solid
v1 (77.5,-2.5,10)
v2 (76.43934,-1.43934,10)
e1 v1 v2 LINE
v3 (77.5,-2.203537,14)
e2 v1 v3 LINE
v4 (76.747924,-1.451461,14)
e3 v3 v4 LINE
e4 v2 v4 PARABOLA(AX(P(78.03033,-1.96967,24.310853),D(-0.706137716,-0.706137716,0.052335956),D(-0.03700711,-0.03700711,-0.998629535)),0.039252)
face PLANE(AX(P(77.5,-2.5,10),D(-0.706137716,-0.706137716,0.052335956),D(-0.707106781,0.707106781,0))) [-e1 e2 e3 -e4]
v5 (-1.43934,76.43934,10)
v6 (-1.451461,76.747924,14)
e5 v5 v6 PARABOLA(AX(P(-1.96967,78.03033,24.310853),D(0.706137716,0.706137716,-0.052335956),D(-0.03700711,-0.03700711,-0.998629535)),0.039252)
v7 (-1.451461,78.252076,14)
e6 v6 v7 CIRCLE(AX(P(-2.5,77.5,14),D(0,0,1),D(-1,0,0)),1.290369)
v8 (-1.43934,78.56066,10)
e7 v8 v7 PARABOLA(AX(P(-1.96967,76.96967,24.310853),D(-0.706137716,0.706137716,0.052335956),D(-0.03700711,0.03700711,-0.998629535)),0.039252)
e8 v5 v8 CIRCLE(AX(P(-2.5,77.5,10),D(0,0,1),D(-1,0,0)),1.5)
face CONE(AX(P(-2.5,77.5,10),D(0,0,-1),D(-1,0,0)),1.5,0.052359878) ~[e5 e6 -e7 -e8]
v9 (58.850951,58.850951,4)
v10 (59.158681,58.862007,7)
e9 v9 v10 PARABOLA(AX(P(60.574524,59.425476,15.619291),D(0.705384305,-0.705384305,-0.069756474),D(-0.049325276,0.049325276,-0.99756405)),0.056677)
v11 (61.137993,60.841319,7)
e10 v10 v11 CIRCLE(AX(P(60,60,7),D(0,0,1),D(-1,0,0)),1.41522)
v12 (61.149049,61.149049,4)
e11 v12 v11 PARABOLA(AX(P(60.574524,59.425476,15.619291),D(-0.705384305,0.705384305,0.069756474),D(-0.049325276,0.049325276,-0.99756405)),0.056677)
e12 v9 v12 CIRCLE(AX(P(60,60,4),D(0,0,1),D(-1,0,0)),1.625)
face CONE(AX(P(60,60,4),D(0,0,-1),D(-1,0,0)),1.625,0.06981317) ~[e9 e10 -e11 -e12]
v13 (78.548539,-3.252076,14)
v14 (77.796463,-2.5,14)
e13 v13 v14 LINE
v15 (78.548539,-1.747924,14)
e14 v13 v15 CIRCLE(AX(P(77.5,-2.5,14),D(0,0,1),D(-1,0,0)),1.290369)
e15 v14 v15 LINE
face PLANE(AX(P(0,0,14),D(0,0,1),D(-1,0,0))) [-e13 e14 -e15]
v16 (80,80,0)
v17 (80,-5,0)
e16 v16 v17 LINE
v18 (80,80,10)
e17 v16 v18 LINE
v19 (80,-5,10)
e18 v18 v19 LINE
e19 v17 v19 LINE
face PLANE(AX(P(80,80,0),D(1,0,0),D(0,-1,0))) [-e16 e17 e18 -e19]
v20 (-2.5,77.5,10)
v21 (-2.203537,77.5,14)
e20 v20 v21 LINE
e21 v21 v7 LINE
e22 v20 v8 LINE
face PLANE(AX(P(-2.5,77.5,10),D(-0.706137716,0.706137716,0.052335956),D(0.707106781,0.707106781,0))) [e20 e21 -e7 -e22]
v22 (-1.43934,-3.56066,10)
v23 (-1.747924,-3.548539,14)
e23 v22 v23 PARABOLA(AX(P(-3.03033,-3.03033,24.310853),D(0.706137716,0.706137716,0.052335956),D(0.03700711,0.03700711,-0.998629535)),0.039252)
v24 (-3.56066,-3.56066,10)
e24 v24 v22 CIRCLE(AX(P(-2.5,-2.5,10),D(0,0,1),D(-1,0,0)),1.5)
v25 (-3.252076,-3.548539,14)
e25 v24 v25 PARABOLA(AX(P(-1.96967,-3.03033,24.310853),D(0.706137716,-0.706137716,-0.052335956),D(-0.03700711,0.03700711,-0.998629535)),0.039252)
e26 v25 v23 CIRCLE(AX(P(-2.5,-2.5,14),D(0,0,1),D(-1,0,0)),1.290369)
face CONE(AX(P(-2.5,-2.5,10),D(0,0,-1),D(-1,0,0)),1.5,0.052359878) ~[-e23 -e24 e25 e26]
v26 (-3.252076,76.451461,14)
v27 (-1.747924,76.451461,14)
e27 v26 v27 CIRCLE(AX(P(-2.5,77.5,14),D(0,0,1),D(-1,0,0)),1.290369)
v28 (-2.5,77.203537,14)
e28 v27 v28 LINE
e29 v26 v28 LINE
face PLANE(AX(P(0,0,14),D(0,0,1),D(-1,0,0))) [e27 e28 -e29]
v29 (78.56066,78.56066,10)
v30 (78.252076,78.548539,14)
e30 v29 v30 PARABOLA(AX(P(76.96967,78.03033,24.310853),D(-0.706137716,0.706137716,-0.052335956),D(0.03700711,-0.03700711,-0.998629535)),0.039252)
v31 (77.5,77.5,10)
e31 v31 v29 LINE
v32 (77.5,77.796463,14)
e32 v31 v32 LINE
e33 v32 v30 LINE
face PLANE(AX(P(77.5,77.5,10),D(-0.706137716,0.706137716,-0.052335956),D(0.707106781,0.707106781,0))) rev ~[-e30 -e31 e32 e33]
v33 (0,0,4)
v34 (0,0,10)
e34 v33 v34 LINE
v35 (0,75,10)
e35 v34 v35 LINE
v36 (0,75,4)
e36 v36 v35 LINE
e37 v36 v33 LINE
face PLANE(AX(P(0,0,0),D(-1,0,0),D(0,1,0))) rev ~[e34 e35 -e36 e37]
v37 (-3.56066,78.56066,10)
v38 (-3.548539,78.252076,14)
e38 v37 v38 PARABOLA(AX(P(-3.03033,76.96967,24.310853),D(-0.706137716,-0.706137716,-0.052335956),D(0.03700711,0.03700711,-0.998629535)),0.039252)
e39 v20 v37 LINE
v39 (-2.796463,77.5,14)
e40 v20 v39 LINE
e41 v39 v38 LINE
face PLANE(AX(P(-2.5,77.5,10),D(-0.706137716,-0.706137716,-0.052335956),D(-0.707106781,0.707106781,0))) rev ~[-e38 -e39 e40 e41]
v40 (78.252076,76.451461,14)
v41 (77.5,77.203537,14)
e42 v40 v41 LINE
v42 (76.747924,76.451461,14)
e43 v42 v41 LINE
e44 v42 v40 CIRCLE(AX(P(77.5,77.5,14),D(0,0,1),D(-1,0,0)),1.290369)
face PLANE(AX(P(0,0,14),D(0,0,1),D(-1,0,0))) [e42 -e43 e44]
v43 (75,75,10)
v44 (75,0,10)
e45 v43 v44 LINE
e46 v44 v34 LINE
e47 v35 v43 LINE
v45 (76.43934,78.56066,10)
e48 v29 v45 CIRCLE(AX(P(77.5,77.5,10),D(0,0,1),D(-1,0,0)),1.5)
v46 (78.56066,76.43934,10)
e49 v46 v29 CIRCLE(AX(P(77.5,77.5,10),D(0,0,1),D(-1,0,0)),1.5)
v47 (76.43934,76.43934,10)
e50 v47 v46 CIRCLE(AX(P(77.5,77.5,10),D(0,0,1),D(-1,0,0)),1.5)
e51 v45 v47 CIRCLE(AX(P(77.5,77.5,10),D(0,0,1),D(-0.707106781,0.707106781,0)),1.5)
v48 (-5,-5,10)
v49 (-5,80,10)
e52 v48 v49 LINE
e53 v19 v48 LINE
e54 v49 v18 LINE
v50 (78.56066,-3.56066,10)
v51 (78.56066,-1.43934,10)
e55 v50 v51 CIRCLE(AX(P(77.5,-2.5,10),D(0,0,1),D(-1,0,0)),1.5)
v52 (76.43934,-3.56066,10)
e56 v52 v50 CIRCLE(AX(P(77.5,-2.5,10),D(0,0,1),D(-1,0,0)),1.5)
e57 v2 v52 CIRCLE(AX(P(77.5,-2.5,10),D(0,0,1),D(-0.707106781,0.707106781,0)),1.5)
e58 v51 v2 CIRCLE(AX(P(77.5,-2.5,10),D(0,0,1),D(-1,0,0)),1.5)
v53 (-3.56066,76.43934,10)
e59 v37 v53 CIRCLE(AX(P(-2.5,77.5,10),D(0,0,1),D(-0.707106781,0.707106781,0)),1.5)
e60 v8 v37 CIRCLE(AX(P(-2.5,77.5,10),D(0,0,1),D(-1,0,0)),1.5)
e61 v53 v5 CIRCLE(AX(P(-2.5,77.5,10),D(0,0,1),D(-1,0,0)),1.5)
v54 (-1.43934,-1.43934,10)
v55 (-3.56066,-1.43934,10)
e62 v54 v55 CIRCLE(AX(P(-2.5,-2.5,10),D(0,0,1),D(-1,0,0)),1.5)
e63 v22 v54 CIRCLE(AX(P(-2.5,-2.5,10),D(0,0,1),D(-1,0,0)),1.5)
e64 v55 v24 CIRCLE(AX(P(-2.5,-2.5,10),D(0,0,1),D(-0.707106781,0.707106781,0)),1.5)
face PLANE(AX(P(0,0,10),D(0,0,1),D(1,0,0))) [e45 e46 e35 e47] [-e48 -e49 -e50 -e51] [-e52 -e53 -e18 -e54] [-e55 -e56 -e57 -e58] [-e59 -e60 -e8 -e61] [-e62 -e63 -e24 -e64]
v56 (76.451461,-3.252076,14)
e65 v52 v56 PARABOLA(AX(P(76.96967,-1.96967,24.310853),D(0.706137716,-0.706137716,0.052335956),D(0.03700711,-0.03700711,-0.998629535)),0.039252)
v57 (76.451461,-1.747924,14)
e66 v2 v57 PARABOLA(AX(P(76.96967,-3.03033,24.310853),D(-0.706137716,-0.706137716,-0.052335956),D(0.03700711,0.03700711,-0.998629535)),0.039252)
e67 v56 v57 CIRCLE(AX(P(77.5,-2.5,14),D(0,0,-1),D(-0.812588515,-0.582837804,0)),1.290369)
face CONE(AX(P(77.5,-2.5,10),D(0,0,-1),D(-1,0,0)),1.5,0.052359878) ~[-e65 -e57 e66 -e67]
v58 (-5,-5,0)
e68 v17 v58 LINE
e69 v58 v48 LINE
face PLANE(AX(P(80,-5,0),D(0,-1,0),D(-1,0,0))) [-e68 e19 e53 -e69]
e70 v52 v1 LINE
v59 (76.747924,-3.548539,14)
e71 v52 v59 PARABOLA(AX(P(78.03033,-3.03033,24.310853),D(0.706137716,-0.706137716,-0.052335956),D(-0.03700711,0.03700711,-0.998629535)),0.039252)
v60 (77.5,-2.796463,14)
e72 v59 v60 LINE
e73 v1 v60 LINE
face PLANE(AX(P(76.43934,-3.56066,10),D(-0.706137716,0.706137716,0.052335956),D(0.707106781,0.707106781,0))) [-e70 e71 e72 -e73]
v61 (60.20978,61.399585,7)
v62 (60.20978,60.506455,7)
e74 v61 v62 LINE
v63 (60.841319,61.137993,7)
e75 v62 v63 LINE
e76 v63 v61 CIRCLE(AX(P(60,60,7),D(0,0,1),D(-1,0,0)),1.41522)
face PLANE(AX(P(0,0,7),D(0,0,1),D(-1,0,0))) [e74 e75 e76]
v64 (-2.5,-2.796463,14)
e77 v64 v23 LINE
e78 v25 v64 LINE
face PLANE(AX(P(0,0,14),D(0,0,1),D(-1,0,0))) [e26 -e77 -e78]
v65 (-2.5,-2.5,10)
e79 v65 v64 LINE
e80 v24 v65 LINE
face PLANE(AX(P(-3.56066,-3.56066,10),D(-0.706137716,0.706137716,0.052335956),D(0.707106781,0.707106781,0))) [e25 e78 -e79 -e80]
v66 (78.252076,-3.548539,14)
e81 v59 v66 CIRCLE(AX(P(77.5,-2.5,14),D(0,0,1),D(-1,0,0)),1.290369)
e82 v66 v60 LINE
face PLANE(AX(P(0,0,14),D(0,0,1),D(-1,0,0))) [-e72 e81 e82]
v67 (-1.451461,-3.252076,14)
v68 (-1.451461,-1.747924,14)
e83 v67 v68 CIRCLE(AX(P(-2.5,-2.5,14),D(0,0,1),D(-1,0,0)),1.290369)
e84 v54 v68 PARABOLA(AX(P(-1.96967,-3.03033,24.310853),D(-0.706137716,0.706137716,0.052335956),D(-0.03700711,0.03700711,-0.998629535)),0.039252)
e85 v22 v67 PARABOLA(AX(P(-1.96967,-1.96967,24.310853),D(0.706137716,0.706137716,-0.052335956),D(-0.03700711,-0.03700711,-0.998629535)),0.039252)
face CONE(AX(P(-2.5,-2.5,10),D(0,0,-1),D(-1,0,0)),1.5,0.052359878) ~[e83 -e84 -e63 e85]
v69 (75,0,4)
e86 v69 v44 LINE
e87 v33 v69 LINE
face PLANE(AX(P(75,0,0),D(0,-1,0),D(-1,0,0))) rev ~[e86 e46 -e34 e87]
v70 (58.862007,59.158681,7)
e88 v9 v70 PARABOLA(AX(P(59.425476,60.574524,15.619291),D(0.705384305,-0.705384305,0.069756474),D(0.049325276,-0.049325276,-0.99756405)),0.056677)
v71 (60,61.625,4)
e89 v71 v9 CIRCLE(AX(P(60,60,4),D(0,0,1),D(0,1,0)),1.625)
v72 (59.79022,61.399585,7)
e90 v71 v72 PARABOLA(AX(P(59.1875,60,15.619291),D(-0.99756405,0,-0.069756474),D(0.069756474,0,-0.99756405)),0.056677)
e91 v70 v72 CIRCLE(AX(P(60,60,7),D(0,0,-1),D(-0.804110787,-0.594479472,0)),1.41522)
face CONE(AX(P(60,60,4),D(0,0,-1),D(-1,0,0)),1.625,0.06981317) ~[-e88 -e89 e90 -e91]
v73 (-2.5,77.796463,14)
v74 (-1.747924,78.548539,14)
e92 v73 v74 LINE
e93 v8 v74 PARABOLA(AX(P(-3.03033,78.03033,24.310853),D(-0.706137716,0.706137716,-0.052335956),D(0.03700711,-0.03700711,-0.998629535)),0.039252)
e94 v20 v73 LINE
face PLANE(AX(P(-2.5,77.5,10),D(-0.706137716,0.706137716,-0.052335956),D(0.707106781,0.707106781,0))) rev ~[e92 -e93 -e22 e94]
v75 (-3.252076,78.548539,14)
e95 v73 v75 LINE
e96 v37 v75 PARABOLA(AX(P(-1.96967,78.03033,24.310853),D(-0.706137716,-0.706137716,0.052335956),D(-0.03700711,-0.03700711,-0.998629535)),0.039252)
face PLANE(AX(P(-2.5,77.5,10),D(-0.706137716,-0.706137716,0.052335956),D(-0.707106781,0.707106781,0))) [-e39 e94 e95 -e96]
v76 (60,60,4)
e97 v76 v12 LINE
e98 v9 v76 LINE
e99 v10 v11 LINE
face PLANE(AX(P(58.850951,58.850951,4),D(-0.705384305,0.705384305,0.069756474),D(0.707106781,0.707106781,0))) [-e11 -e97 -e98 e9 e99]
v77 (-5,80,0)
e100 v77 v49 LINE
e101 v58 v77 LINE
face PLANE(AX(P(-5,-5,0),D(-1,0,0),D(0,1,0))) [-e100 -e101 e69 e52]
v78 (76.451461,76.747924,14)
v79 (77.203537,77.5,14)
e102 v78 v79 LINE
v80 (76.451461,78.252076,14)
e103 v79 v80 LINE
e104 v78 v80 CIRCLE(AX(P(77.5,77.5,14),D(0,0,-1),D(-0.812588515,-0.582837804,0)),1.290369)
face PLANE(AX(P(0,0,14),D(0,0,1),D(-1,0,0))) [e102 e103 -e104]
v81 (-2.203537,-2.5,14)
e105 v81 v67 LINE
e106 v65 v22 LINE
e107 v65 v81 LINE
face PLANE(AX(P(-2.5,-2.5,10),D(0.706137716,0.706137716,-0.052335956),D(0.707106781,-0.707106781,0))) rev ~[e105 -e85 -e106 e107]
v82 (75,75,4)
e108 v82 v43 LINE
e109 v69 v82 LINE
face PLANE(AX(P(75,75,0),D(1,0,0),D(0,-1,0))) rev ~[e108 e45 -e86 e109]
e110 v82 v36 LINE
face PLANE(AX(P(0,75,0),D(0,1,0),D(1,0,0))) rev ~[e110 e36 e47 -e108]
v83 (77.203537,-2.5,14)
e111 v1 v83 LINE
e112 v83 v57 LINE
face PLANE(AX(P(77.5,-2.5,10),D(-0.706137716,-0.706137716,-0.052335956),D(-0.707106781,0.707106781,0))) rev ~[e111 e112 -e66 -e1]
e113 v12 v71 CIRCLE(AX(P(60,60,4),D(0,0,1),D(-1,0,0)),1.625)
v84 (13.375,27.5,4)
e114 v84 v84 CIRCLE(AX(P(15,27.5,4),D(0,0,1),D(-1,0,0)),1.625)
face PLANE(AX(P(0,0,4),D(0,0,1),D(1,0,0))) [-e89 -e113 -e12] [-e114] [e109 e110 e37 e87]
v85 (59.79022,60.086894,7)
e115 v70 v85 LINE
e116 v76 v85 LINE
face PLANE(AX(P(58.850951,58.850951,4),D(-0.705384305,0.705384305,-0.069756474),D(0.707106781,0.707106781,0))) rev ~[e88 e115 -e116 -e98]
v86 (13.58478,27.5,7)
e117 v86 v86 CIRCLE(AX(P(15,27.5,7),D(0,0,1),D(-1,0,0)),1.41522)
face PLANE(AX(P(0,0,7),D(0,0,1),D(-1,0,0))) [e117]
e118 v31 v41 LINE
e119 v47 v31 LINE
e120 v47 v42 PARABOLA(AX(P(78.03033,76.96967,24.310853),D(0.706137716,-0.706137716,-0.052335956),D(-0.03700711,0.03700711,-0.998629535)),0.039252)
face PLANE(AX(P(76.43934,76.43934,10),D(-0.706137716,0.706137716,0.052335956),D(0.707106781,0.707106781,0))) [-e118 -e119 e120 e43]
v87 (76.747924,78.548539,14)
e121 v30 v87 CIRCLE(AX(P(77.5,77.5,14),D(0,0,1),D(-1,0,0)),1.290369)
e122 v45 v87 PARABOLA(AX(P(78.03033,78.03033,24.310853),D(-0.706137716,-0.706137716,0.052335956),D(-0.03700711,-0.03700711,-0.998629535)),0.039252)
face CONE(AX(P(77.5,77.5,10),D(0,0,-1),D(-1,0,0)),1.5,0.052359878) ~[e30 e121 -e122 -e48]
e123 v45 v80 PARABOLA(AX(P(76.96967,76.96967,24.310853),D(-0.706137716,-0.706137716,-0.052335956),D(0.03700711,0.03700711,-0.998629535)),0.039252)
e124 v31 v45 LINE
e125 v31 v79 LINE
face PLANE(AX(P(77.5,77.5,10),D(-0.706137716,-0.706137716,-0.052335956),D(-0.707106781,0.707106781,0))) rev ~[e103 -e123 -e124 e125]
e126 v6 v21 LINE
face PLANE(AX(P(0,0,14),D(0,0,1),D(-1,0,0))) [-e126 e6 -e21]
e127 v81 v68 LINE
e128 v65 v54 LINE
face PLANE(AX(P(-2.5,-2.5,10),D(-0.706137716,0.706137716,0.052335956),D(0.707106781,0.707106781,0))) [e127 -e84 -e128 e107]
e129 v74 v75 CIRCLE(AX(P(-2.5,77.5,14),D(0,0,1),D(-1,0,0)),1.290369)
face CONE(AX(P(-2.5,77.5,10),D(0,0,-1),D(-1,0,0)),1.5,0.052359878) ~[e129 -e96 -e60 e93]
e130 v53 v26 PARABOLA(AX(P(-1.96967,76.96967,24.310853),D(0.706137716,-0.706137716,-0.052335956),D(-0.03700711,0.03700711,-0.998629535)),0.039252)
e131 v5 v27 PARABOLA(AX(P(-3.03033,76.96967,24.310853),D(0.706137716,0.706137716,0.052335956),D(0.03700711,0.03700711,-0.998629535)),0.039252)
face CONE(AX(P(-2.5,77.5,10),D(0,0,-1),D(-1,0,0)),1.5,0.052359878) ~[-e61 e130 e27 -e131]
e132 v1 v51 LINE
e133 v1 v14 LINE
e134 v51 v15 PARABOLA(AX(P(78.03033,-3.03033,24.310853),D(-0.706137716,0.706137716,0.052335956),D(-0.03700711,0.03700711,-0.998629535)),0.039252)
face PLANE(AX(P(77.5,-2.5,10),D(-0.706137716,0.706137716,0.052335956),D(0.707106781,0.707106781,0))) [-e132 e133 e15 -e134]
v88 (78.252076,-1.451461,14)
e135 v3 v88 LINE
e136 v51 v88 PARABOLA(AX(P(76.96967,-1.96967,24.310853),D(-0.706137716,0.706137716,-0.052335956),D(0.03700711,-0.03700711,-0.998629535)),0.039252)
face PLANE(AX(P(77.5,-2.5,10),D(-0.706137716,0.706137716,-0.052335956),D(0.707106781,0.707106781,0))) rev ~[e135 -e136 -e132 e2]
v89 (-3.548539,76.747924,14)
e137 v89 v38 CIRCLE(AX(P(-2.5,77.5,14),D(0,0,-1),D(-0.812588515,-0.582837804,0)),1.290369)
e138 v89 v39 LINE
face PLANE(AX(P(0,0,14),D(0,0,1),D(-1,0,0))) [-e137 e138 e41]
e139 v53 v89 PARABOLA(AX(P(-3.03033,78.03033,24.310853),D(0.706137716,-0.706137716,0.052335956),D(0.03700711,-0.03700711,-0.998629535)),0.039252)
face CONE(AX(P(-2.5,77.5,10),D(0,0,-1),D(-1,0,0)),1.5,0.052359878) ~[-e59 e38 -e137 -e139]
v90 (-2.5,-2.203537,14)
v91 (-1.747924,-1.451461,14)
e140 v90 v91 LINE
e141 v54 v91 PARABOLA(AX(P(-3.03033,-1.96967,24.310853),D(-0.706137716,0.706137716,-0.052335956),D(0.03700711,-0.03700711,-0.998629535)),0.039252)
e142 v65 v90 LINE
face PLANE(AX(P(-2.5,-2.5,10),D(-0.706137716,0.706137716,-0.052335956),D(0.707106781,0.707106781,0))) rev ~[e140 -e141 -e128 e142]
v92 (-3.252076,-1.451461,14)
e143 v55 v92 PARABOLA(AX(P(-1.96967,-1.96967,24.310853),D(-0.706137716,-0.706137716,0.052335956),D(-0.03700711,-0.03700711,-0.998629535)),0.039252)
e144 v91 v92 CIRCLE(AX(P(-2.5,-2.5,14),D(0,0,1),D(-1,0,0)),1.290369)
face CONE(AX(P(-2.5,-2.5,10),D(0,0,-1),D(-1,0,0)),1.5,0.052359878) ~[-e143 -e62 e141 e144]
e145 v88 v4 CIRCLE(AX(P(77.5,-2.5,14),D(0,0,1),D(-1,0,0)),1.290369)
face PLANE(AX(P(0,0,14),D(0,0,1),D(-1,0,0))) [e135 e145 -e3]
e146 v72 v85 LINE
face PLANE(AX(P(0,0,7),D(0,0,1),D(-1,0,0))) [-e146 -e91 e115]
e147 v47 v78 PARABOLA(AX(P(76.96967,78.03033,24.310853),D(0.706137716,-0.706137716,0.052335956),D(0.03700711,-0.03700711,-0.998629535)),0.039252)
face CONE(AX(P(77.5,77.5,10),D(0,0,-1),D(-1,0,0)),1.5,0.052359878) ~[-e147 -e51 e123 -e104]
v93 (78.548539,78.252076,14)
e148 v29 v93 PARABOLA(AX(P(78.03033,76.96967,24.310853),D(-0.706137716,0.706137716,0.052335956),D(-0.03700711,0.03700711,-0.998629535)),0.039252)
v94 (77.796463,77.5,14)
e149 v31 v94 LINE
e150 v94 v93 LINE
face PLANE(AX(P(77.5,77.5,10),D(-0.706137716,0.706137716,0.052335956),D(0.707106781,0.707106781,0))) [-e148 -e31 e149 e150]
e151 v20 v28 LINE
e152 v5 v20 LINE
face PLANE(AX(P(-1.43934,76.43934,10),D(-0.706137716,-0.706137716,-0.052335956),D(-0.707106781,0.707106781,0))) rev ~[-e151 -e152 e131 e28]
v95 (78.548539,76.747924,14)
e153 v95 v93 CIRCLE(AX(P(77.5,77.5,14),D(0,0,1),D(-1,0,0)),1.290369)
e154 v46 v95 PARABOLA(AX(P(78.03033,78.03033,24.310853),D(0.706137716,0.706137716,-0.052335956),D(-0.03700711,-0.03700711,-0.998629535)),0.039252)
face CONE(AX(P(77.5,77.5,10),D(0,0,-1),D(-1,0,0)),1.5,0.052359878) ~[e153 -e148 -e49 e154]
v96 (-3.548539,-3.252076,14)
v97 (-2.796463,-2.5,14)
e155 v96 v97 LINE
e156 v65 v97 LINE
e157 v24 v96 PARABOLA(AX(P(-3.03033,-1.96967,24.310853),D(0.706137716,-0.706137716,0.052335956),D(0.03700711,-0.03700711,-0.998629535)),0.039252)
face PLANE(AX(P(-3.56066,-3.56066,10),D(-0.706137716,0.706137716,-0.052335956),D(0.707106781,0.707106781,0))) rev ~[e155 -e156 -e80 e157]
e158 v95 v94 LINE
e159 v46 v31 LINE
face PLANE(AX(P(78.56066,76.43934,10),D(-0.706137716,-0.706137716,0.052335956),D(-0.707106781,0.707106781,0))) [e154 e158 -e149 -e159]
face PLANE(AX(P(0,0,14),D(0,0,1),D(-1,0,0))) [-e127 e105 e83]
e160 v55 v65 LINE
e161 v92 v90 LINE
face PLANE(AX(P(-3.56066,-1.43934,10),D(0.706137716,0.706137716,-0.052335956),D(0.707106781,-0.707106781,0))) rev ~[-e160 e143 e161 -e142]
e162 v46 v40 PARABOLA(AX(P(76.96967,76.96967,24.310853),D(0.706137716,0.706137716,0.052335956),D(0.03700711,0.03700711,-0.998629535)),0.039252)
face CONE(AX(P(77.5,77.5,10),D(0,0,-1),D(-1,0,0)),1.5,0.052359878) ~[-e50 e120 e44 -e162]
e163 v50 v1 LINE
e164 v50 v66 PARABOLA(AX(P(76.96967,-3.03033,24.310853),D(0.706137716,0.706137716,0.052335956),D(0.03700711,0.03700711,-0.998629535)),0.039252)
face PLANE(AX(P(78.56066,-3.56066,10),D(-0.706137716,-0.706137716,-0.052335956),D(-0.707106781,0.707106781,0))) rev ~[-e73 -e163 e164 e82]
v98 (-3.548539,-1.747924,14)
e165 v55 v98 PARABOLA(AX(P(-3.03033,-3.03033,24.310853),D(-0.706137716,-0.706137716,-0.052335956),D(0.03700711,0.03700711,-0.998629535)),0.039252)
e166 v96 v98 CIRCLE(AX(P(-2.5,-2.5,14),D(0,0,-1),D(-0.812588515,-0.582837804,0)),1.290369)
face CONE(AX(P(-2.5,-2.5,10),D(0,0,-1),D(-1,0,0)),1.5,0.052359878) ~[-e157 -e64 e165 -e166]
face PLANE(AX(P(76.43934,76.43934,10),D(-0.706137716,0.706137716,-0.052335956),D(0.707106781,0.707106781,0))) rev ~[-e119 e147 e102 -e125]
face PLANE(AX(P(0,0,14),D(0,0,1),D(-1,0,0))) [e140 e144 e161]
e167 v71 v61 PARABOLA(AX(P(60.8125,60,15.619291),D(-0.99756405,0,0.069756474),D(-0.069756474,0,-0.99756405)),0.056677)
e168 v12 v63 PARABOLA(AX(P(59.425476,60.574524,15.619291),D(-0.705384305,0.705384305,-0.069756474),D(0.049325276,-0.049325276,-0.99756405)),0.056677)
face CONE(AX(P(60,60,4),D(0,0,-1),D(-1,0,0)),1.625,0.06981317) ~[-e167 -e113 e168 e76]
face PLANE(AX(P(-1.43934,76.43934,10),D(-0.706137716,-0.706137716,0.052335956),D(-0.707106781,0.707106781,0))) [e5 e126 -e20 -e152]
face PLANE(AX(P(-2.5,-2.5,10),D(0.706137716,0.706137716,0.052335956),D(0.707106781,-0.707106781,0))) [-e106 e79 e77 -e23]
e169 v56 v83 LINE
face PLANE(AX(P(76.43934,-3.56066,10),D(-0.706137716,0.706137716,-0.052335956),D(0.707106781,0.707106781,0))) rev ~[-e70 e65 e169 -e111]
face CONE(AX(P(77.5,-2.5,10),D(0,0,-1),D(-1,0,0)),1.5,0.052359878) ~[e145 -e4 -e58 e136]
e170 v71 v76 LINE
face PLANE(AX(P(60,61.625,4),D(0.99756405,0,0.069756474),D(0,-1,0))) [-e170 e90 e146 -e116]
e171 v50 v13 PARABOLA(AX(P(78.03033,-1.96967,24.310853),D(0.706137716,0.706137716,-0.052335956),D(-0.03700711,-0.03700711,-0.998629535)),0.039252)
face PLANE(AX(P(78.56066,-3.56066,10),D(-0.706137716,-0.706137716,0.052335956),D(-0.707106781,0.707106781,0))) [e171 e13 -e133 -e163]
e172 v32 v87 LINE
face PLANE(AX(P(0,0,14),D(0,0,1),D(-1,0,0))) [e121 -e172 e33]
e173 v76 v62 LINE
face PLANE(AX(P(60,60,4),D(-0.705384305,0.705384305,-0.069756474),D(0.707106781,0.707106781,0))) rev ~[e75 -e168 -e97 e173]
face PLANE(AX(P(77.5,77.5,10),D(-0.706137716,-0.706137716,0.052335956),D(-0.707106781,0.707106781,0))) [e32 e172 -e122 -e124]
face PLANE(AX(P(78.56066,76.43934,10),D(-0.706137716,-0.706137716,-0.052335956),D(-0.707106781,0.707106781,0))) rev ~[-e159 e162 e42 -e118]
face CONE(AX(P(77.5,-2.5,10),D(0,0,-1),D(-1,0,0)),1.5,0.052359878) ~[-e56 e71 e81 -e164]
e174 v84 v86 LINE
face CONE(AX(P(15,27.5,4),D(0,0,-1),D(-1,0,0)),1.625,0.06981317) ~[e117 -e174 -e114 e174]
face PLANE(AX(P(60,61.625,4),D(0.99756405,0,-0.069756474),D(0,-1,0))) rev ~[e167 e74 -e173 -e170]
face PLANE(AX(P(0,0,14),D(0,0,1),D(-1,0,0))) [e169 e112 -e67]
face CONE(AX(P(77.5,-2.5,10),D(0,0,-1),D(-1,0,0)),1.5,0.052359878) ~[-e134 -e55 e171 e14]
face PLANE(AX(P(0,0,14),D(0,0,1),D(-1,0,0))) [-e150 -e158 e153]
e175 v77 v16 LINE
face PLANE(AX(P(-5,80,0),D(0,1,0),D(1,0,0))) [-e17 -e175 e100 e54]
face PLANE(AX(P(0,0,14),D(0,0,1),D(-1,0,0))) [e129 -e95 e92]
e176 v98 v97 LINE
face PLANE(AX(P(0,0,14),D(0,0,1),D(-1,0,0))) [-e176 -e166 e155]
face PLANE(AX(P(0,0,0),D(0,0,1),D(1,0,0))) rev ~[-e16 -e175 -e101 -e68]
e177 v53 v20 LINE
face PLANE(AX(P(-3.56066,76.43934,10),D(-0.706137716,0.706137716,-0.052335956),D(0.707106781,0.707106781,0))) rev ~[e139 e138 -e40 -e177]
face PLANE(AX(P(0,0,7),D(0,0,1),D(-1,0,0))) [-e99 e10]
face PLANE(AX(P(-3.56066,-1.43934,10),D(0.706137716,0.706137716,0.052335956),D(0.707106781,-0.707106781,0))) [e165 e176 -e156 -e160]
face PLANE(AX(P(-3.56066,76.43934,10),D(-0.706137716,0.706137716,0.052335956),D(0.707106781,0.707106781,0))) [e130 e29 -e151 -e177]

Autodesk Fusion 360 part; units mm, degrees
sketch "Sketch1" plane through (0, 0, 0) normal (0, 0, 1) x (1, 0, 0)
  line L0 (0, 0) -> (0, 75)
  line L1 (0, 75) -> (75, 75)
  line L2 (75, 75) -> (75, 0)
  line L3 (75, 0) -> (0, 0)
  line L4 (-5, -5) -> (-5, 80)
  line L5 (-5, 80) -> (80, 80)
  line L6 (80, 80) -> (80, -5)
  line L7 (80, -5) -> (-5, -5)
  dimension "d1" = 75
  dimension "d2" = 75
  dimension "d3" = 75
  dimension "d4" = 75
  dimension "d5" = 85
  dimension "d6" = 85
  dimension "d7" = 85
  dimension "d8" = 85
extrude "Extrude1" add sketch "Sketch1" along normal blind 10
sketch "Sketch2" plane through (0, 0, 0) normal (0, 1, 0) x (1, 0, 0)
sketch "Sketch3" plane through (0, 0, 0) normal (0, 0, 1) x (1, 0, 0)
  line L0 (0, 0) -> (75, 0)
  line L1 (75, 0) -> (75, 75)
  line L2 (75, 75) -> (0, 75)
  line L3 (0, 75) -> (0, 0)
extrude "Extrude2" add sketch "Sketch3" along normal blind 4
sketch "Sketch4" plane through (0, 0, 4) normal (0, 0, 1) x (-1, 0, 0)
  line L0 (0, -75) -> (0, 0)
  line L1 (0, 0) -> (-75, 0)
  line L2 (-75, 0) -> (-75, -75)
  line L3 (-75, -75) -> (0, -75)
  line L4 (0, 0) -> (-75, -75)
  line L5 (-75, 0) -> (0, -75)
  line L6 (-37.5, -37.5) -> (-37.5, -65)
  line L7 (-37.5, -37.5) -> (-65, -37.5)
  line L8 (-65, -37.5) -> (-65, -10)
  line L9 (-37.5, -65) -> (-10, -65)
  line L10 (-10, -65) -> (-65, -65)
  line L11 (-65, -65) -> (-65, -10)
  line L12 (-65, -10) -> (-10, -10)
  line L13 (-10, -10) -> (-10, -65)
  line L14 (-65, -65) -> (-60, -65)
  line L15 (-60, -65) -> (-60, -60)
  circle A0 centre (-60, -60) radius 1.625
  line L16 (-10, -10) -> (-10, -27.5)
  line L17 (-10, -27.5) -> (-15, -27.5)
  circle A1 centre (-15, -27.5) radius 1.625
  dimension "d13" = 27.5
  dimension "d14" = 27.5
  dimension "d15" = 27.5
  dimension "d16" = 27.5
  dimension "d17" = 5
  dimension "d18" = 5
  dimension "d19" = 3.25
  dimension "d20" = 17.5
  dimension "d21" = 5
  dimension "d22" = 3.25
extrude "Extrude3" add sketch "Sketch4" along normal blind 3 draft -4 contours A1 | L4 A0 | L4 L15 A0 | L4 L15 A0
sketch "Sketch5" plane through (0, 0, 10) normal (0, 0, 1) x (-1, 0, 0)
  line L0 (-75, -75) -> (-75, 0)
  line L1 (-75, 0) -> (0, 0)
  line L2 (0, 0) -> (0, -75)
  line L3 (0, -75) -> (-75, -75)
  line L4 (-80, 5) -> (-80, -80)
  line L5 (-80, -80) -> (5, -80)
  line L6 (5, -80) -> (5, 5)
  line L7 (5, 5) -> (-80, 5)
  line L8 (5, 5) -> (0, 0)
  line L9 (5, 0) -> (0, 5)
  circle A0 centre (2.5, 2.5) radius 1.5
  line L10 (-75, -75) -> (-80, -80)
  line L11 (-80, -75) -> (-75, -80)
  circle A1 centre (-77.5, -77.5) radius 1.5
  line L12 (0, -75) -> (5, -80)
  line L13 (5, -75) -> (0, -80)
  circle A2 centre (2.5, -77.5) radius 1.5
  line L14 (-80, 5) -> (-75, 0)
  line L15 (-75, 5) -> (-80, 0)
  circle A3 centre (-77.5, 2.5) radius 1.5
  dimension "d25" = 3
  dimension "d26" = 3
  dimension "d27" = 3
  dimension "d28" = 3
extrude "Extrude4" add sketch "Sketch5" along normal blind 4 draft -3 contours L10 L11 A1 | L10 L11 A1 | L14 L15 A3 | L14 L15 A3 | L12 L13 A2 | L12 L13 A2 | L10 L11 A1 | L10 L11 A1 | L8 L9 A0 | L8 L9 A0 | L14 L15 A3 | L14 L15 A3 | L12 L13 A2 | L12 L13 A2 | L8 L9 A0 | L8 L9 A0
sketch "Sketch6" plane through (0, 0, 7) normal (0, 0, 1) x (-1, 0, 0)
  circle A0 centre (-60, -60) radius 1.4152
equation "d13 = ( 55 / 2 ) * 1 mm"
equation "d14 = ( 55 / 2 ) * 1 mm"
equation "d15 = ( 55 / 2 ) * 1 mm"
equation "d16 = ( 55 / 2 ) * 1 mm"
